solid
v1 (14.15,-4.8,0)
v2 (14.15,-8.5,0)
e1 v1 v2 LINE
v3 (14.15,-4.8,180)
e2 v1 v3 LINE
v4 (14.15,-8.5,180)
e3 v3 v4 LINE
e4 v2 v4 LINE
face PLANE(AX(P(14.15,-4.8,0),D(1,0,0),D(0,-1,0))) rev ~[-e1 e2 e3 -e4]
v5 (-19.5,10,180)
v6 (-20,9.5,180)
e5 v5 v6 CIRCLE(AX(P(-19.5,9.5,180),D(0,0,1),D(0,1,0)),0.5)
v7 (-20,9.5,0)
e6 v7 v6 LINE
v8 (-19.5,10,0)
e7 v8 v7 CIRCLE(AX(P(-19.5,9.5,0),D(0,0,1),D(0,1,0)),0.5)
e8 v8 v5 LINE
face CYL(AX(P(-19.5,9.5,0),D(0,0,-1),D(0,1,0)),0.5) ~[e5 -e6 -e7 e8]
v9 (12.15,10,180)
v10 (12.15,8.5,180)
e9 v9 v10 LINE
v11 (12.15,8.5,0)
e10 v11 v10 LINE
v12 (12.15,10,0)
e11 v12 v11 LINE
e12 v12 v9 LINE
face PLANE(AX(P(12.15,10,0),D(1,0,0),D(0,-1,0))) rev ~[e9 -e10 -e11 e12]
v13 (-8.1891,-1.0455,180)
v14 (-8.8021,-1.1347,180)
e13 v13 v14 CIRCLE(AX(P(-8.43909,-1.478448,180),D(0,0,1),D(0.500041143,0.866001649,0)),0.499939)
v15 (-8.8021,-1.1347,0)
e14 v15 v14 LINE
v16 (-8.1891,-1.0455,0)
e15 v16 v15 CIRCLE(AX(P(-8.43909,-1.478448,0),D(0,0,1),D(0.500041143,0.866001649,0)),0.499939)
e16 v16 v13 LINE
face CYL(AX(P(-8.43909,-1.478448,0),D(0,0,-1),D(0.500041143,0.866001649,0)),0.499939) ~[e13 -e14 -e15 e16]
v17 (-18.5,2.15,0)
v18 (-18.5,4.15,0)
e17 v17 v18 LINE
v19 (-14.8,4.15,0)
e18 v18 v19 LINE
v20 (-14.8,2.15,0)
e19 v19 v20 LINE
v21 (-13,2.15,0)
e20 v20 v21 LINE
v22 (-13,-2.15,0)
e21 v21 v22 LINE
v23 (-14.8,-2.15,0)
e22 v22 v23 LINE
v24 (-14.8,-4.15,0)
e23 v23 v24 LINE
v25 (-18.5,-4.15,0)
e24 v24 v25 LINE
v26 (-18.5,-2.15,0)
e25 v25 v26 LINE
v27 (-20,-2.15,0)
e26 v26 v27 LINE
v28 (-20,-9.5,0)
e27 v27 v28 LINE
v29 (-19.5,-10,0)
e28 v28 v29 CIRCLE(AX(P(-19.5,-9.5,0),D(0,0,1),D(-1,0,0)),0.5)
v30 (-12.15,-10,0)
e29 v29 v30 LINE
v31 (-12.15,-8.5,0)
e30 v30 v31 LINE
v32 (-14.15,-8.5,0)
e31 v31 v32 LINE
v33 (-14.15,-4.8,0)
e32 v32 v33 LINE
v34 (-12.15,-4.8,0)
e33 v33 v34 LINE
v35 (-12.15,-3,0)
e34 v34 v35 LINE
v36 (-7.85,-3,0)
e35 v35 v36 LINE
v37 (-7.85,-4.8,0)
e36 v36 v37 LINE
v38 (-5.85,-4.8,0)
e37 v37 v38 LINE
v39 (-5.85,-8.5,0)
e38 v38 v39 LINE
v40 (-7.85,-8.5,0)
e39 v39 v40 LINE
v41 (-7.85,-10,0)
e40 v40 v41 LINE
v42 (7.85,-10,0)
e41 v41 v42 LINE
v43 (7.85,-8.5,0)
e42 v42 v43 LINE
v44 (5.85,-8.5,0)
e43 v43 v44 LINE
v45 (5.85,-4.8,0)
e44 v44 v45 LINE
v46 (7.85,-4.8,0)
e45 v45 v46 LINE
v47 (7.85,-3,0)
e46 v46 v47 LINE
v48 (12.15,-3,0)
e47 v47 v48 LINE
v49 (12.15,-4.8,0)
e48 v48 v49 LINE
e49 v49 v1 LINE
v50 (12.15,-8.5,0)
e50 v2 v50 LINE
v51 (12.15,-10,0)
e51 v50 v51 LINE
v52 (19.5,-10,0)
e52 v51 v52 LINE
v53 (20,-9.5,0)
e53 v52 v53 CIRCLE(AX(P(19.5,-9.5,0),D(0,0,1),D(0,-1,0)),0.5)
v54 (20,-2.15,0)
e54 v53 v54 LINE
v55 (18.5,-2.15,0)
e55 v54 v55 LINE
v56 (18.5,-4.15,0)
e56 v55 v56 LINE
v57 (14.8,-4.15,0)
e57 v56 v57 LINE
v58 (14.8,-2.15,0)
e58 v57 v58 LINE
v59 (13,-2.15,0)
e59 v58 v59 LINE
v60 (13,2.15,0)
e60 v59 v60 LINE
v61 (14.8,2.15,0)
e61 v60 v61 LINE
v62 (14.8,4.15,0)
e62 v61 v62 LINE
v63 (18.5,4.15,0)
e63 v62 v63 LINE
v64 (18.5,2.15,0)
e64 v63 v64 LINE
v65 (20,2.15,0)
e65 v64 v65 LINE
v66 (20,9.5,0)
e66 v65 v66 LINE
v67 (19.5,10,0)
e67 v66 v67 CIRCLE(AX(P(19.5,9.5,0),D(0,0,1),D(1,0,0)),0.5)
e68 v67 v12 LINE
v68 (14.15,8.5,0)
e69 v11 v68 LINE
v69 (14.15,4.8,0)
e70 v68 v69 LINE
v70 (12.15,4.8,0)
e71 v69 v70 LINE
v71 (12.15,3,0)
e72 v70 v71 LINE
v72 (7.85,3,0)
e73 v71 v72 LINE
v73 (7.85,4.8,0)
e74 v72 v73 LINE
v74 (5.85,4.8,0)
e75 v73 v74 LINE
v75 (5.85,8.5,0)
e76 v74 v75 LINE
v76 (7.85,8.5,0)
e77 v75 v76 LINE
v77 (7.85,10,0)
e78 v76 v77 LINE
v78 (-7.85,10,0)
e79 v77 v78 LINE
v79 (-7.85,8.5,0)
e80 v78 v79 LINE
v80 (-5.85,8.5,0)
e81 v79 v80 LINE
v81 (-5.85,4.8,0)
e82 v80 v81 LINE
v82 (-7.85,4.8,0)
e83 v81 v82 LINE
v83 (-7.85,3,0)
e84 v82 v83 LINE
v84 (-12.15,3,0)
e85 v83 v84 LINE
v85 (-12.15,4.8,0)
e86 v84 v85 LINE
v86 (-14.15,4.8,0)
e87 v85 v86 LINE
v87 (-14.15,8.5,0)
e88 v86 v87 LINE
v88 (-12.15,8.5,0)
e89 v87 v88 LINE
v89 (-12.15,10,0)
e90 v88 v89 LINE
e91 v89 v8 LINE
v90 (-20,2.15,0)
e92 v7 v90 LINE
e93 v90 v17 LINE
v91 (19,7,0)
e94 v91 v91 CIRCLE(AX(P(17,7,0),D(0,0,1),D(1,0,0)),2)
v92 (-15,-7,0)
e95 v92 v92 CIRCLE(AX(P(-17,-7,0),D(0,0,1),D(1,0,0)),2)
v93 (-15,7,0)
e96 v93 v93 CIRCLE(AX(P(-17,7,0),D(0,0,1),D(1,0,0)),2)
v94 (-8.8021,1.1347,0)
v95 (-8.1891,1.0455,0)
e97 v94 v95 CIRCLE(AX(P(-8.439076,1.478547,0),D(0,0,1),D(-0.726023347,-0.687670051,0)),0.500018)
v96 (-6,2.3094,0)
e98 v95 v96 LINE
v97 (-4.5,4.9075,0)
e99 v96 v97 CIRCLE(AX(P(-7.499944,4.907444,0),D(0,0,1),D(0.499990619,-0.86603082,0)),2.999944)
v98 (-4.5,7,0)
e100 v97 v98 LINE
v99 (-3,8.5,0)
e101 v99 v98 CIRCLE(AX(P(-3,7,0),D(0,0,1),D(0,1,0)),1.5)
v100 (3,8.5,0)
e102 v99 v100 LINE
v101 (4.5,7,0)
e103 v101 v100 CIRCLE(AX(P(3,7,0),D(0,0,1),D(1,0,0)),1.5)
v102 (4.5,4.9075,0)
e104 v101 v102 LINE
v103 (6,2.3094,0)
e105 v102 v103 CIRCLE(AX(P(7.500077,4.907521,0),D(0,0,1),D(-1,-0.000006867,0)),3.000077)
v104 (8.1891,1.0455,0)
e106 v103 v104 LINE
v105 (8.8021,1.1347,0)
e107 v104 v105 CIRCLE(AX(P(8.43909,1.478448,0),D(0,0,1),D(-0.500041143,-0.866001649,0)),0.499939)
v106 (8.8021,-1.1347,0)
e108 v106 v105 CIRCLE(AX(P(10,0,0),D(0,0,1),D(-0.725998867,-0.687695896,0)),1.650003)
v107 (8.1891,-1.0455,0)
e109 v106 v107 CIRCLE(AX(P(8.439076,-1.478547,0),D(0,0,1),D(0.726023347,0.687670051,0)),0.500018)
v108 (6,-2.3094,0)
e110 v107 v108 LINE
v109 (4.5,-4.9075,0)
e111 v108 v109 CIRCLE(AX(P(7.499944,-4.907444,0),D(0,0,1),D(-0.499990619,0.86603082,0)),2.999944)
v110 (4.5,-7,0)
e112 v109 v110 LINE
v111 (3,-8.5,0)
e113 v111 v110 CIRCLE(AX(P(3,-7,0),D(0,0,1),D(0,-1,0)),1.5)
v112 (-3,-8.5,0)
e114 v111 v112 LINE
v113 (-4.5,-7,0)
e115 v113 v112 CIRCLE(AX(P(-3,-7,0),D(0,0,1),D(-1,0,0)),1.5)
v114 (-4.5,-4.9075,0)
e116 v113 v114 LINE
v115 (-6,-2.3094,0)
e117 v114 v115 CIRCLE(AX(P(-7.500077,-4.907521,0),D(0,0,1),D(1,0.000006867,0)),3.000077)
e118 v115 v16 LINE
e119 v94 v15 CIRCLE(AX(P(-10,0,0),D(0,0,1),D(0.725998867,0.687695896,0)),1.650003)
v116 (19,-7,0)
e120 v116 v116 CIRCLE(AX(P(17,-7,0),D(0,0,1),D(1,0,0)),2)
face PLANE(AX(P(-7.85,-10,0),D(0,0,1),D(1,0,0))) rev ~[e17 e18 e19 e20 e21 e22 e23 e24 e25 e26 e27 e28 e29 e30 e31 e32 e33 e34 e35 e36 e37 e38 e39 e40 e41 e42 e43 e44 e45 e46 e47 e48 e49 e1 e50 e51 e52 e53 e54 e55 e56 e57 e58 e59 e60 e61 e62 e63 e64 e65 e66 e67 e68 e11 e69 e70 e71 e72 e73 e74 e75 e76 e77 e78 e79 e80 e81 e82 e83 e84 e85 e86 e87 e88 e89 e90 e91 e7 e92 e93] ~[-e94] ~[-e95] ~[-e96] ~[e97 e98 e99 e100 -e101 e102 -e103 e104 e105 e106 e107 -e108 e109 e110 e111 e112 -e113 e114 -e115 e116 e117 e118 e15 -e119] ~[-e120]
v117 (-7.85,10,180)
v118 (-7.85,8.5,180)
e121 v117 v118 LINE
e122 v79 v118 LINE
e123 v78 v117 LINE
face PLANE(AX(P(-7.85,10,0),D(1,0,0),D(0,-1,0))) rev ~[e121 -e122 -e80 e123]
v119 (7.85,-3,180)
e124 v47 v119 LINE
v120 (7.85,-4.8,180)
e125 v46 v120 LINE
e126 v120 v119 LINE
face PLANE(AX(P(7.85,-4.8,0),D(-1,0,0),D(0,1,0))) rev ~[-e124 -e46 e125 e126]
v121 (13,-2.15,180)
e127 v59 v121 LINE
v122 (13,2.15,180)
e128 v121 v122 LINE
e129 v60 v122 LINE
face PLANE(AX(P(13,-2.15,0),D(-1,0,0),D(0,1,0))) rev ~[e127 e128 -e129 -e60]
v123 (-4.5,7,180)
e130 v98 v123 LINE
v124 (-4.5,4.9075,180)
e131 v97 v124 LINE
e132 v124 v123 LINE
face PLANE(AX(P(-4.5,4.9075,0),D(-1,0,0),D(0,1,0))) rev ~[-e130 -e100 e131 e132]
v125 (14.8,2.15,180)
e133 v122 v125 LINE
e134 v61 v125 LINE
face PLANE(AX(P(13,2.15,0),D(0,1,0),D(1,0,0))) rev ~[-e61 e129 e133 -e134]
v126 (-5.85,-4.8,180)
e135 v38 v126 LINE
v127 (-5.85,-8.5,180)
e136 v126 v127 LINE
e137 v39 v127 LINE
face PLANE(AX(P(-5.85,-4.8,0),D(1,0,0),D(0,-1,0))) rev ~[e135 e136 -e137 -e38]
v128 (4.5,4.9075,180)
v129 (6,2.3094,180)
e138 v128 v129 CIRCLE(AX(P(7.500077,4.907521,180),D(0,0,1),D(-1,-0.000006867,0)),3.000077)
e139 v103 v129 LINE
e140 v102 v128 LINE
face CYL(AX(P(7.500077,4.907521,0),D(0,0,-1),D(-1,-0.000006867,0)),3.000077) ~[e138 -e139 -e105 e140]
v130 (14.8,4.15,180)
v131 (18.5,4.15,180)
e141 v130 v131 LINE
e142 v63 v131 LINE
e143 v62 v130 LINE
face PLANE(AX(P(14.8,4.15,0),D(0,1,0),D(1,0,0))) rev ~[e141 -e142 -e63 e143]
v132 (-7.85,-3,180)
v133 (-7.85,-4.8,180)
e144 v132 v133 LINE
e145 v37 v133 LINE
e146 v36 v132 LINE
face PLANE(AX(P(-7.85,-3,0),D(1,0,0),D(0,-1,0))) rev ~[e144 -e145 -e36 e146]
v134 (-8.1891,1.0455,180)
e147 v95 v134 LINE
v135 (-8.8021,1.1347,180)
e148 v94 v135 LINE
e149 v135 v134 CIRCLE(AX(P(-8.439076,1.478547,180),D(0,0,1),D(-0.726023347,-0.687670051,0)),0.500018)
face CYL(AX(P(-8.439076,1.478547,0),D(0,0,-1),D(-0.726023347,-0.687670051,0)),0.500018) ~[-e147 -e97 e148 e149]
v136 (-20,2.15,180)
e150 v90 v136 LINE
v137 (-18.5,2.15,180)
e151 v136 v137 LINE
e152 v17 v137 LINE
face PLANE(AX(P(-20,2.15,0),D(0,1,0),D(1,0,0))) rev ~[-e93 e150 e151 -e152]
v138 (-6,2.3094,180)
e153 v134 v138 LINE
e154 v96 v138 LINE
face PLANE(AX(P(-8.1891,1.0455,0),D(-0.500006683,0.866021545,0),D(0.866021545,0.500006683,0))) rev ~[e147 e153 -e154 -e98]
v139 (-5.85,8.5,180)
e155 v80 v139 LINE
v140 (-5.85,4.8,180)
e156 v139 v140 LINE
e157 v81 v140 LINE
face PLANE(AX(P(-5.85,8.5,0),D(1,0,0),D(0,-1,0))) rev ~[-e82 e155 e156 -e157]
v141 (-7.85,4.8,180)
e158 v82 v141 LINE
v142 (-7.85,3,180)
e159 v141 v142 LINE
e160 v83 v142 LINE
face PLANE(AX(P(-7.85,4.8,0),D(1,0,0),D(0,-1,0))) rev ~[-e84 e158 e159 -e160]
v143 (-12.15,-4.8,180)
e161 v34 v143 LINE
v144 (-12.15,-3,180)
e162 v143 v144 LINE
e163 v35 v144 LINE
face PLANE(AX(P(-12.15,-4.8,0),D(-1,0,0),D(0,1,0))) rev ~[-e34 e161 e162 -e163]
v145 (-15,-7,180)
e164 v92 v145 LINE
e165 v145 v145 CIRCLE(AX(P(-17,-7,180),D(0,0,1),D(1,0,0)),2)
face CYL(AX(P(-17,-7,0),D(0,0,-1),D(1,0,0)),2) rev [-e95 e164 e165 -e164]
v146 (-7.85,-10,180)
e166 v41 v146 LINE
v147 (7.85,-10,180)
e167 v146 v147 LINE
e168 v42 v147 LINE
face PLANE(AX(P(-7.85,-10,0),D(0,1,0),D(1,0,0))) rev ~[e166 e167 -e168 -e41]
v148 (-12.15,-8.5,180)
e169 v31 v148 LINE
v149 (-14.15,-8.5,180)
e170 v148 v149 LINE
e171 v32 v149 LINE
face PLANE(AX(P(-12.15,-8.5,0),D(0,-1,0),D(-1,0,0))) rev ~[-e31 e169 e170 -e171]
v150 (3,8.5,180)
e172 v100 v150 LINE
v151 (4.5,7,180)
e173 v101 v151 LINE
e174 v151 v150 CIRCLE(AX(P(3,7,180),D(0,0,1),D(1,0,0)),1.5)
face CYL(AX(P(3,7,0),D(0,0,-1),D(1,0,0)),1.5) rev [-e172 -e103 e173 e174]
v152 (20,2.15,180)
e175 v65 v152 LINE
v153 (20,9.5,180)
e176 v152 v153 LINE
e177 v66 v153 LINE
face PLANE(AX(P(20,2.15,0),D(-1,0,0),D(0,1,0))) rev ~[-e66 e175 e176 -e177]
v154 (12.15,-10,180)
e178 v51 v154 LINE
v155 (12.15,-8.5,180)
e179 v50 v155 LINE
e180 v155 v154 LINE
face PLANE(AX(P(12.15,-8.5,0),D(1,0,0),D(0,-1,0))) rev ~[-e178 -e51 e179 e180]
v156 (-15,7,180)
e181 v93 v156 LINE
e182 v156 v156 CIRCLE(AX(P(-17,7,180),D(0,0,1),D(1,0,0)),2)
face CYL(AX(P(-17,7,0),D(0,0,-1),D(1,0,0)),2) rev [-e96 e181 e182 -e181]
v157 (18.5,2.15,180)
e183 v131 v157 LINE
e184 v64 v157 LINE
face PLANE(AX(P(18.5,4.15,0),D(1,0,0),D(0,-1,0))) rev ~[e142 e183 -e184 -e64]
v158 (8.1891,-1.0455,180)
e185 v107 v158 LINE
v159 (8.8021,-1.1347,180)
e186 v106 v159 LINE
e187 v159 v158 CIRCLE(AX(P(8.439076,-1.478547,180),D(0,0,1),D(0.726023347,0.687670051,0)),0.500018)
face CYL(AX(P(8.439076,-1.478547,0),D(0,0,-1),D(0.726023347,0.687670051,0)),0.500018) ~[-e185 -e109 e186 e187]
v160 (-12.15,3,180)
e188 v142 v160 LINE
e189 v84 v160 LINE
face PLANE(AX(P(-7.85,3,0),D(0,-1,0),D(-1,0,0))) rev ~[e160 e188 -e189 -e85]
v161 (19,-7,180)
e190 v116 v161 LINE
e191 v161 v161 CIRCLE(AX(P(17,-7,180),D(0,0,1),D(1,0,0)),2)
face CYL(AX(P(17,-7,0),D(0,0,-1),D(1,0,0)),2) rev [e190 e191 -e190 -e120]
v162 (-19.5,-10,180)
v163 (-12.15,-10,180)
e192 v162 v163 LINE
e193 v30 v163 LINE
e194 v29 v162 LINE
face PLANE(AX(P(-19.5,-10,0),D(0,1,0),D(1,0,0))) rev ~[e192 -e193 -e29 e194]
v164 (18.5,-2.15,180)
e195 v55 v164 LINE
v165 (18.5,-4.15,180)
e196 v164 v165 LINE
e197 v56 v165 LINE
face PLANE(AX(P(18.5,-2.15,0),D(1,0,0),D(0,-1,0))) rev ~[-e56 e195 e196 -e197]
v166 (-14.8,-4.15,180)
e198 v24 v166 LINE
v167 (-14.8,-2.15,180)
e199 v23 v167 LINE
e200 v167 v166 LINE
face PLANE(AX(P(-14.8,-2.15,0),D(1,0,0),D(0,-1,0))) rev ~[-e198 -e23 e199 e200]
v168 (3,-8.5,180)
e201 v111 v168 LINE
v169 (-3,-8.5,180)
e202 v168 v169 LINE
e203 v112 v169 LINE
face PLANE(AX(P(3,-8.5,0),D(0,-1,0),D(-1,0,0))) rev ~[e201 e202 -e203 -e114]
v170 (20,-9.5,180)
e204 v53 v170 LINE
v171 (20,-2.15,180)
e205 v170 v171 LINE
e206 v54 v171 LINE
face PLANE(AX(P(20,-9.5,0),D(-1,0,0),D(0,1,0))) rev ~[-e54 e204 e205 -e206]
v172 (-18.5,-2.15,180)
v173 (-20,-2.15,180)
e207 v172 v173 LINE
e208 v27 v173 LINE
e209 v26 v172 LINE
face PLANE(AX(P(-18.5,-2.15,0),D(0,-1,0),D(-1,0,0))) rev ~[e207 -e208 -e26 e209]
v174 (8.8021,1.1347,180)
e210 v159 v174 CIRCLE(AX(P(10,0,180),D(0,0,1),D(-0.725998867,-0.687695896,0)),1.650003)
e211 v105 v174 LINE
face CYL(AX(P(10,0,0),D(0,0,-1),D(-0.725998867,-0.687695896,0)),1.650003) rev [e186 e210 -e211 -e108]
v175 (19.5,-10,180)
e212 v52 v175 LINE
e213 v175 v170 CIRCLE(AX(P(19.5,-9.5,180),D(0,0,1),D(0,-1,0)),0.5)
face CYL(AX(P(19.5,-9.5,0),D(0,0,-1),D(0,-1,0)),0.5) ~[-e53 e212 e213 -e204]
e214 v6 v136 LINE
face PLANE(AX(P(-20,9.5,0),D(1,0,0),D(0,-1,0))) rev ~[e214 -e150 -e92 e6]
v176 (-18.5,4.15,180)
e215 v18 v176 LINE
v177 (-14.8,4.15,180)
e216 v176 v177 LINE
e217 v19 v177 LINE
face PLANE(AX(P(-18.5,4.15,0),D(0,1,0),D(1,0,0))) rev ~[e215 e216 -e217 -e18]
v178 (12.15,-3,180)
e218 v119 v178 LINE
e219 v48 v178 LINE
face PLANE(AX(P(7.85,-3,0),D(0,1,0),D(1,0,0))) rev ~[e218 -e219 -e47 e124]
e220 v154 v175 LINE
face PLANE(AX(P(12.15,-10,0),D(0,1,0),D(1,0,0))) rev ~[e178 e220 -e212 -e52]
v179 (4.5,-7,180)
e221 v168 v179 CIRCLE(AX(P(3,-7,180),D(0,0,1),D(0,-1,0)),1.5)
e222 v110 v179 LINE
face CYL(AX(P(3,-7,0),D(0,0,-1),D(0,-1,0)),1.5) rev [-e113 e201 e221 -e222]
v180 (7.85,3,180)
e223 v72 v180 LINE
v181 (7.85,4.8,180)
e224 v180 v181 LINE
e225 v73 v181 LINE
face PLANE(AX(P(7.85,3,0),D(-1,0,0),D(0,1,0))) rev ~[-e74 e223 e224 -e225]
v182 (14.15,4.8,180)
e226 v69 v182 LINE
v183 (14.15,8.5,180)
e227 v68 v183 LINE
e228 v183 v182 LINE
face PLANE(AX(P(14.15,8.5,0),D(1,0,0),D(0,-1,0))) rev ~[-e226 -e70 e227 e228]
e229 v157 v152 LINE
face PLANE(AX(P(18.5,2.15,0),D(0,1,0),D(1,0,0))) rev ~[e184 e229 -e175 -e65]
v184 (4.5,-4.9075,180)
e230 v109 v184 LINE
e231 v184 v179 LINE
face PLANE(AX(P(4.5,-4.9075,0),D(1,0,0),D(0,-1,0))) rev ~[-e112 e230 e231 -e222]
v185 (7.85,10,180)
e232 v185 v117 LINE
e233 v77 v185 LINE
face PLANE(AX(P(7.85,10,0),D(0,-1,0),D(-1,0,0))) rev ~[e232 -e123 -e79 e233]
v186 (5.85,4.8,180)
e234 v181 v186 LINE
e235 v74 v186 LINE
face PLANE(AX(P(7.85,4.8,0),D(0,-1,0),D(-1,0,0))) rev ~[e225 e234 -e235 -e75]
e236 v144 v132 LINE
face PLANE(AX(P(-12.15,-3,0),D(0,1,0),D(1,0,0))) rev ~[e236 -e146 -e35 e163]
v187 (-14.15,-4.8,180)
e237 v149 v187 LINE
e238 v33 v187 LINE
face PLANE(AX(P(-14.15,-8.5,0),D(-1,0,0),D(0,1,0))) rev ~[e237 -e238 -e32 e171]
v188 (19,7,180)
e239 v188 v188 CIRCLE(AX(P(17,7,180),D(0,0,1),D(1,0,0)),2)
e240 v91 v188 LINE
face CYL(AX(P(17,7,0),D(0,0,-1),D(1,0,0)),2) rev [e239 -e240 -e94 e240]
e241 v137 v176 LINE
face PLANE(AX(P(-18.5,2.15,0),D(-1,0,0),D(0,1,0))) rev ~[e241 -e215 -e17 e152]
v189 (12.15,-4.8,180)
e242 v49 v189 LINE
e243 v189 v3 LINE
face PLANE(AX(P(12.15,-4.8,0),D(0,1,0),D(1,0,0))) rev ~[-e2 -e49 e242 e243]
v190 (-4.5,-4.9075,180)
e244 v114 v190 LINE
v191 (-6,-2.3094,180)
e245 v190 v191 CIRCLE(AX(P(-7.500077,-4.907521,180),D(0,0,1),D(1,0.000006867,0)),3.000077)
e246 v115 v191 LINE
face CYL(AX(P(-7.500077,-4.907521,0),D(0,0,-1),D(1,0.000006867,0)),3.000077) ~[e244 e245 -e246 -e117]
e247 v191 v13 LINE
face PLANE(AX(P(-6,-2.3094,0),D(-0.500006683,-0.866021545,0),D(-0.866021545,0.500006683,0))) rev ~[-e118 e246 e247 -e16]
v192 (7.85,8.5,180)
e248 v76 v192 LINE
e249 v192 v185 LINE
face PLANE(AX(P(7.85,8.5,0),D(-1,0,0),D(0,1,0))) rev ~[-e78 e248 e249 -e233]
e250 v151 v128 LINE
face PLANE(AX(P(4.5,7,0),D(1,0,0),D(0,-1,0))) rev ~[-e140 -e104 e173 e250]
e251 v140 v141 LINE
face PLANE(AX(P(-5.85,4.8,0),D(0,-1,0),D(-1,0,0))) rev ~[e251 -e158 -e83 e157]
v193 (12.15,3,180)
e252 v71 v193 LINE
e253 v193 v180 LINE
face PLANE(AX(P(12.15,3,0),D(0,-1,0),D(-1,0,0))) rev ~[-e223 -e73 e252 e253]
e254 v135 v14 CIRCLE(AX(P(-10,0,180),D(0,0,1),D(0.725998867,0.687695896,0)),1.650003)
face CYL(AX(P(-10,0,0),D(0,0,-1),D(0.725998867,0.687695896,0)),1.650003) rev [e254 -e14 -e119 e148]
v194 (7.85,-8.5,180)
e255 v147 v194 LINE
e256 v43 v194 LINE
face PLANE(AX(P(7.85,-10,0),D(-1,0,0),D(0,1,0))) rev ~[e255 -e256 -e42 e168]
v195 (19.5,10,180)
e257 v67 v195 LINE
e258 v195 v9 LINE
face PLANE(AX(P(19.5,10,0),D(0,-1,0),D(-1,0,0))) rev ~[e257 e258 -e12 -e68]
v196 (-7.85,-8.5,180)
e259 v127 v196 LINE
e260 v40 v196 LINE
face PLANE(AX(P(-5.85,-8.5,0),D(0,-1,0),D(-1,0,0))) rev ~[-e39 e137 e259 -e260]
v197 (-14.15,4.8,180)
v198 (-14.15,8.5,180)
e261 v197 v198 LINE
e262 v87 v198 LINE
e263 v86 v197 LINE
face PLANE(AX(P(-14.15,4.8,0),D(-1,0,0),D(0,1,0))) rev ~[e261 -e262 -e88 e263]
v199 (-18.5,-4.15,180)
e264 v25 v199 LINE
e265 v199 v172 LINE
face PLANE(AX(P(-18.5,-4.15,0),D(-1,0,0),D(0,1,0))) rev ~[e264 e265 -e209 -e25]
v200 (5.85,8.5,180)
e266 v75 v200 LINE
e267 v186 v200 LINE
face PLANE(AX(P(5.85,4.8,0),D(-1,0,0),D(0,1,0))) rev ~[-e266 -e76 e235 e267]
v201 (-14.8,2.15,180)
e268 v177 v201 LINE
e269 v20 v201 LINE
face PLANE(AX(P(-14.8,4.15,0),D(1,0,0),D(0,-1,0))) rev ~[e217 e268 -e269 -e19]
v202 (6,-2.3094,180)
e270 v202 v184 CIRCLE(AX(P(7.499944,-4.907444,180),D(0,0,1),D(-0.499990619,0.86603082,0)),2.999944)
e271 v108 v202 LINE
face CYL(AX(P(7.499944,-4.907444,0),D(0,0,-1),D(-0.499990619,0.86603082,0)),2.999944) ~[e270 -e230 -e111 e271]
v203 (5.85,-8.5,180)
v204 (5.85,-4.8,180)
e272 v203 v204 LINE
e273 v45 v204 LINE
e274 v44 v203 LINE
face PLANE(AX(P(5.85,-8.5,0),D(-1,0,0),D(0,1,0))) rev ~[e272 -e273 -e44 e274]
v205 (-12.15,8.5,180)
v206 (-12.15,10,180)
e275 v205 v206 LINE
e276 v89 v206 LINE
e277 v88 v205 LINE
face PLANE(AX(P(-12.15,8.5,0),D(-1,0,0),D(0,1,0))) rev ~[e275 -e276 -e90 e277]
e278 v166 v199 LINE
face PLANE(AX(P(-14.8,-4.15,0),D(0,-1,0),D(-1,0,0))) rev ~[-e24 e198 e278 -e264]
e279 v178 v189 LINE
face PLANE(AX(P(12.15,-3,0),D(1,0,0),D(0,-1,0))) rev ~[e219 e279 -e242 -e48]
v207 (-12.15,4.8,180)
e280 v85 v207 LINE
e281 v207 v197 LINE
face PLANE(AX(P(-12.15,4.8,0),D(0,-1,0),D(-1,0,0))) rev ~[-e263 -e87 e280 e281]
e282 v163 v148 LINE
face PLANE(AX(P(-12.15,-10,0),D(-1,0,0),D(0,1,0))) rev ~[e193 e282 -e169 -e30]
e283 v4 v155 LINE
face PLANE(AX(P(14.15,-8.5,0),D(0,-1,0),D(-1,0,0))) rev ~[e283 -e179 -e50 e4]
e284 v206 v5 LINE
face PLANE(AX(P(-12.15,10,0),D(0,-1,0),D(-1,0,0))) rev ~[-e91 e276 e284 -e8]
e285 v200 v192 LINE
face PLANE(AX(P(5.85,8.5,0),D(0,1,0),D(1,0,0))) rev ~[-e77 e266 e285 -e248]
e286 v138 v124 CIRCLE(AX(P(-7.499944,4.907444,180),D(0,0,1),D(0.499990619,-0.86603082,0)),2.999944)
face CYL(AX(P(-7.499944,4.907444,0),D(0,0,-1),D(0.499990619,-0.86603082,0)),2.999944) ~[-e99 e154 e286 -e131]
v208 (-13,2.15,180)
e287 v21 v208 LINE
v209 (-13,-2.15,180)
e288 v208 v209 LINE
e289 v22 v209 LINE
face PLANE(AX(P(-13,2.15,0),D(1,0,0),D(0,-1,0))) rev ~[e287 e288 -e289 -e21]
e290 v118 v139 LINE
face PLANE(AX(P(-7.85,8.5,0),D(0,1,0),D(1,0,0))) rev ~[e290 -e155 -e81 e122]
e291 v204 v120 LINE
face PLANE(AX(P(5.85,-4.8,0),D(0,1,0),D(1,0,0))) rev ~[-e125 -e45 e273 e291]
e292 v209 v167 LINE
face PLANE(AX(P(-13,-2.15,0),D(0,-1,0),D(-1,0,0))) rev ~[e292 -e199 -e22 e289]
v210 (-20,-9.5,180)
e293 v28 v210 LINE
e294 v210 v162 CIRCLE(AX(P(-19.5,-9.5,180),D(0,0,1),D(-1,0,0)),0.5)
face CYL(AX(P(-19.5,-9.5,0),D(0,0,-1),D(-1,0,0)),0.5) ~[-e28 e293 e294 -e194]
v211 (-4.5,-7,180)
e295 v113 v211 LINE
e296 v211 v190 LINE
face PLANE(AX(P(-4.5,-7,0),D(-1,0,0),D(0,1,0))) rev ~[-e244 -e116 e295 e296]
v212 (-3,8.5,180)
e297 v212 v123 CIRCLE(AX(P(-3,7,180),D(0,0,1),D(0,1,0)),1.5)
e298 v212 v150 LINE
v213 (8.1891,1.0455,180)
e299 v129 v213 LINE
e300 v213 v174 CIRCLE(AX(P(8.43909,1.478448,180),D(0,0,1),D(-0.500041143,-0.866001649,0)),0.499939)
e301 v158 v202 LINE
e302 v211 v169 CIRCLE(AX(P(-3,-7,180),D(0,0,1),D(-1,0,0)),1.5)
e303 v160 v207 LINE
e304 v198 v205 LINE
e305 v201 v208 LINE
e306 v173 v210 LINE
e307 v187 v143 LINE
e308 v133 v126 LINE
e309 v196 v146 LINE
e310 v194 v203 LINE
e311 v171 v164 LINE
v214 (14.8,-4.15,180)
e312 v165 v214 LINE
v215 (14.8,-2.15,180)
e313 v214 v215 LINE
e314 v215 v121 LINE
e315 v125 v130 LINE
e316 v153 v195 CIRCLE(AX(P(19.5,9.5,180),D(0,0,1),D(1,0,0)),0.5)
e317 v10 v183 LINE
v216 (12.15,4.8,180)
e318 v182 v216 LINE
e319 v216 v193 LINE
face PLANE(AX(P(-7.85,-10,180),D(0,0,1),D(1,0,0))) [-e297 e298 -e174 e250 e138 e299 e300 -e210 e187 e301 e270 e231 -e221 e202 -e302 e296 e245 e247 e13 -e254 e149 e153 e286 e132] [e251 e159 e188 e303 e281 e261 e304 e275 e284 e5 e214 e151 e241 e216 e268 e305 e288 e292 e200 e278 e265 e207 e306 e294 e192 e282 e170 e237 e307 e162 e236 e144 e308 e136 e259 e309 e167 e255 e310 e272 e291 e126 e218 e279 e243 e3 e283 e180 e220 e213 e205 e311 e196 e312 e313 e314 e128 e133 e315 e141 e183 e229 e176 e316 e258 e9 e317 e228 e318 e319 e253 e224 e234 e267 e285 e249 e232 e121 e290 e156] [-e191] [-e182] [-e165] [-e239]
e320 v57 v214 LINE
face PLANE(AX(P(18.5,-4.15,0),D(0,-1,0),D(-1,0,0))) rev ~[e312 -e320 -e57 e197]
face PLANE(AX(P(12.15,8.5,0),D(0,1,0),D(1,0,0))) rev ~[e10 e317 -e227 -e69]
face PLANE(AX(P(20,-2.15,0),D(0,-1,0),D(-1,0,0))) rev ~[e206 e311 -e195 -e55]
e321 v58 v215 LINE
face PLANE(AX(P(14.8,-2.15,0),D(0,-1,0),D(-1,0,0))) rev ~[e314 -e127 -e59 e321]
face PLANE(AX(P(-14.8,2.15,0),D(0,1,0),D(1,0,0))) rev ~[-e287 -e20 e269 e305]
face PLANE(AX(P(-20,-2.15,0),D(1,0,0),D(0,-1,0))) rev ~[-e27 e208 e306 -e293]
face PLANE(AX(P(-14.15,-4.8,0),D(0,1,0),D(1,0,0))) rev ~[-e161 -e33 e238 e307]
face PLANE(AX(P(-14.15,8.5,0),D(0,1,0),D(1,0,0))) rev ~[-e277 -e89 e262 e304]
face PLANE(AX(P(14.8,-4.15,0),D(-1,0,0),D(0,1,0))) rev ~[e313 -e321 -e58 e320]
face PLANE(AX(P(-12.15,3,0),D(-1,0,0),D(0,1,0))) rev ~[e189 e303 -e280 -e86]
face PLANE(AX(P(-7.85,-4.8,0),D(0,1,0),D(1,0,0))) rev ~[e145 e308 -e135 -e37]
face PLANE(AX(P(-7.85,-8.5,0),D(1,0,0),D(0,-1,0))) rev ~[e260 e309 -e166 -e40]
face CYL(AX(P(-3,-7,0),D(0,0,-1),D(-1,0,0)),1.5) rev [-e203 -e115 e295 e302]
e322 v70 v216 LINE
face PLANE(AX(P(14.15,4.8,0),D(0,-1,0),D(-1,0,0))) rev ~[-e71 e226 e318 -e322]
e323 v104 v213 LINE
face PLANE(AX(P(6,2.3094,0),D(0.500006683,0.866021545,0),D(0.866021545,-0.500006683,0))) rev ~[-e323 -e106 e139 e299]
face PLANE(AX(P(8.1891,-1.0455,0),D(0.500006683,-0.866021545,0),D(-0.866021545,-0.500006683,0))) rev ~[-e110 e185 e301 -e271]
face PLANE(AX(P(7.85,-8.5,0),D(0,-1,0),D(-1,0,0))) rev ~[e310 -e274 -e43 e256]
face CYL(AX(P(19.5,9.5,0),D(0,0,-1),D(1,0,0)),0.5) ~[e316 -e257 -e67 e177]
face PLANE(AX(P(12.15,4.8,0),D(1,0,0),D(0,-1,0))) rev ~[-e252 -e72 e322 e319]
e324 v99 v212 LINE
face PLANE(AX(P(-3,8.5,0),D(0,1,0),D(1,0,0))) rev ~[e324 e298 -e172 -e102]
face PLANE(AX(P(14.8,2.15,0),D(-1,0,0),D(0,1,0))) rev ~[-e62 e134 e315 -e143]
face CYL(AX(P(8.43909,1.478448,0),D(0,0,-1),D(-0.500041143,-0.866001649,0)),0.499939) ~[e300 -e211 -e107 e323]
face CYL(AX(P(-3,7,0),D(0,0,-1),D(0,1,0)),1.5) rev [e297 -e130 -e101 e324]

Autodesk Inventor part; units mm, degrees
ref_plane "YZ Plane" through (0, 0, 0) normal (1, 0, 0) x (0, 1, 0)
ref_plane "XZ Plane" through (0, 0, 0) normal (0, 1, 0) x (-1, 0, 0)
ref_plane "XY Plane" through (0, 0, 0) normal (0, 0, 1) x (1, 0, 0)
sketch "スケッチ1" plane through (-7.85, -10, 0) normal (0, 0, 1) x (1, 0, 0)
  line L0 (-6.3, 14.8) -> (-6.3, 18.5) projected
  line L1 (0, 13) -> (-4.3, 13) projected
  line L2 (-4.3, 13) -> (-4.3, 14.8) projected
  line L3 (-4.3, 14.8) -> (-6.3, 14.8) projected
  line L4 (-6.3, 14.8) -> (-6.3, 18.5) projected
  line L5 (-6.3, 18.5) -> (-4.3, 18.5) projected
  line L6 (-4.3, 18.5) -> (-4.3, 20) projected
  line L7 (-4.3, 20) -> (-11.65, 20) projected
  arc A0 (-11.65, 20) -> (-12.15, 19.5) centre (-11.65, 19.5) ccw projected
  line L8 (-12.15, 19.5) -> (-12.15, 12.15) projected
  line L9 (-12.15, 12.15) -> (-10.65, 12.15) projected
  line L10 (-10.65, 12.15) -> (-10.65, 14.15) projected
  line L11 (-10.65, 14.15) -> (-6.95, 14.15) projected
  line L12 (-6.95, 14.15) -> (-6.95, 12.15) projected
  line L13 (-6.95, 12.15) -> (-5.15, 12.15) projected
  line L14 (-5.15, 12.15) -> (-5.15, 7.85) projected
  line L15 (-5.15, 7.85) -> (-6.95, 7.85) projected
  line L16 (-6.95, 7.85) -> (-6.95, 5.85) projected
  line L17 (-6.95, 5.85) -> (-10.65, 5.85) projected
  line L18 (-10.65, 5.85) -> (-10.65, 7.85) projected
  line L19 (-10.65, 7.85) -> (-12.15, 7.85) projected
  line L20 (-12.15, 7.85) -> (-12.15, 0.5) projected
  arc A1 (-12.15, 0.5) -> (-11.65, 0) centre (-11.65, 0.5) ccw projected
  line L21 (-11.65, 0) -> (-4.3, 0) projected
  line L22 (-4.3, 0) -> (-4.3, 1.5) projected
  line L23 (-4.3, 1.5) -> (-6.3, 1.5) projected
  line L24 (-6.3, 1.5) -> (-6.3, 5.2) projected
  line L25 (-6.3, 5.2) -> (-4.3, 5.2) projected
  line L26 (-4.3, 5.2) -> (-4.3, 7) projected
  line L27 (-4.3, 7) -> (0, 7) projected
  line L28 (0, 7) -> (0, 5.2) projected
  line L29 (0, 5.2) -> (2, 5.2) projected
  line L30 (2, 5.2) -> (2, 1.5) projected
  line L31 (2, 1.5) -> (0, 1.5) projected
  line L32 (0, 1.5) -> (0, 0) projected
  line L33 (0, 0) -> (15.7, 0) projected
  line L34 (15.7, 0) -> (15.7, 1.5) projected
  line L35 (15.7, 1.5) -> (13.7, 1.5) projected
  line L36 (13.7, 1.5) -> (13.7, 5.2) projected
  line L37 (13.7, 5.2) -> (15.7, 5.2) projected
  line L38 (15.7, 5.2) -> (15.7, 7) projected
  line L39 (15.7, 7) -> (20, 7) projected
  line L40 (20, 7) -> (20, 5.2) projected
  line L41 (20, 5.2) -> (22, 5.2) projected
  line L42 (22, 5.2) -> (22, 1.5) projected
  line L43 (22, 1.5) -> (20, 1.5) projected
  line L44 (20, 1.5) -> (20, 0) projected
  line L45 (20, 0) -> (27.35, 0) projected
  arc A2 (27.35, 0) -> (27.85, 0.5) centre (27.35, 0.5) ccw projected
  line L46 (27.85, 0.5) -> (27.85, 7.85) projected
  line L47 (27.85, 7.85) -> (26.35, 7.85) projected
  line L48 (26.35, 7.85) -> (26.35, 5.85) projected
  line L49 (26.35, 5.85) -> (22.65, 5.85) projected
  line L50 (22.65, 5.85) -> (22.65, 7.85) projected
  line L51 (22.65, 7.85) -> (20.85, 7.85) projected
  line L52 (20.85, 7.85) -> (20.85, 12.15) projected
  line L53 (20.85, 12.15) -> (22.65, 12.15) projected
  line L54 (22.65, 12.15) -> (22.65, 14.15) projected
  line L55 (22.65, 14.15) -> (26.35, 14.15) projected
  line L56 (26.35, 14.15) -> (26.35, 12.15) projected
  line L57 (26.35, 12.15) -> (27.85, 12.15) projected
  line L58 (27.85, 12.15) -> (27.85, 19.5) projected
  arc A3 (27.85, 19.5) -> (27.35, 20) centre (27.35, 19.5) ccw projected
  line L59 (27.35, 20) -> (20, 20) projected
  line L60 (20, 20) -> (20, 18.5) projected
  line L61 (20, 18.5) -> (22, 18.5) projected
  line L62 (22, 18.5) -> (22, 14.8) projected
  line L63 (22, 14.8) -> (20, 14.8) projected
  line L64 (20, 14.8) -> (20, 13) projected
  line L65 (20, 13) -> (15.7, 13) projected
  line L66 (15.7, 13) -> (15.7, 14.8) projected
  line L67 (15.7, 14.8) -> (13.7, 14.8) projected
  line L68 (13.7, 14.8) -> (13.7, 18.5) projected
  line L69 (13.7, 18.5) -> (15.7, 18.5) projected
  line L70 (15.7, 18.5) -> (15.7, 20) projected
  line L71 (15.7, 20) -> (0, 20) projected
  line L72 (0, 20) -> (0, 18.5) projected
  line L73 (0, 18.5) -> (2, 18.5) projected
  line L74 (2, 18.5) -> (2, 14.8) projected
  line L75 (2, 14.8) -> (0, 14.8) projected
  line L76 (0, 14.8) -> (0, 13) projected
  line L77 (12.35, 17) -> (12.35, 14.9075) projected
  arc A4 (12.35, 14.9075) -> (13.85, 12.3094) centre (15.35, 14.9075) ccw projected
  line L78 (13.85, 12.3094) -> (16.0391, 11.0455) projected
  arc A5 (16.0391, 11.0455) -> (16.6521, 11.1347) centre (16.2891, 11.4785) ccw projected
  arc A6 (16.6521, 8.8653) -> (16.6521, 11.1347) centre (17.85, 10) ccw projected
  arc A7 (16.6521, 8.8653) -> (16.0391, 8.9545) centre (16.2891, 8.5215) ccw projected
  line L79 (16.0391, 8.9545) -> (13.85, 7.6906) projected
  arc A8 (13.85, 7.6906) -> (12.35, 5.0925) centre (15.35, 5.0925) ccw projected
  line L80 (12.35, 5.0925) -> (12.35, 3) projected
  arc A9 (10.85, 1.5) -> (12.35, 3) centre (10.85, 3) ccw projected
  line L81 (10.85, 1.5) -> (4.85, 1.5) projected
  arc A10 (3.35, 3) -> (4.85, 1.5) centre (4.85, 3) ccw projected
  line L82 (3.35, 3) -> (3.35, 5.0925) projected
  arc A11 (3.35, 5.0925) -> (1.85, 7.6906) centre (0.35, 5.0925) ccw projected
  line L83 (1.85, 7.6906) -> (-0.3391, 8.9545) projected
  arc A12 (-0.3391, 8.9545) -> (-0.9521, 8.8653) centre (-0.5891, 8.5215) ccw projected
  arc A13 (-0.9521, 11.1347) -> (-0.9521, 8.8653) centre (-2.15, 10) ccw projected
  arc A14 (-0.9521, 11.1347) -> (-0.3391, 11.0455) centre (-0.5891, 11.4785) ccw projected
  line L84 (-0.3391, 11.0455) -> (1.85, 12.3094) projected
  arc A15 (1.85, 12.3094) -> (3.35, 14.9075) centre (0.35, 14.9075) ccw projected
  line L85 (3.35, 14.9075) -> (3.35, 17) projected
  arc A16 (4.85, 18.5) -> (3.35, 17) centre (4.85, 17) ccw projected
  line L86 (4.85, 18.5) -> (10.85, 18.5) projected
  arc A17 (12.35, 17) -> (10.85, 18.5) centre (10.85, 17) ccw projected
  circle A18 centre (24.85, 3) radius 2 projected
  circle A19 centre (-9.15, 3) radius 2 projected
  circle A20 centre (-9.15, 17) radius 2 projected
  circle A21 centre (24.85, 17) radius 2 projected
  point P0 (7.85, 10)
extrude "押し出し1" add sketch "スケッチ1" along normal blind 180
equation "\"d0\" = L"
equation "\"L\" = 180"
properties part number "AFS-2040-4-180" material "アルミニウム 6061"
